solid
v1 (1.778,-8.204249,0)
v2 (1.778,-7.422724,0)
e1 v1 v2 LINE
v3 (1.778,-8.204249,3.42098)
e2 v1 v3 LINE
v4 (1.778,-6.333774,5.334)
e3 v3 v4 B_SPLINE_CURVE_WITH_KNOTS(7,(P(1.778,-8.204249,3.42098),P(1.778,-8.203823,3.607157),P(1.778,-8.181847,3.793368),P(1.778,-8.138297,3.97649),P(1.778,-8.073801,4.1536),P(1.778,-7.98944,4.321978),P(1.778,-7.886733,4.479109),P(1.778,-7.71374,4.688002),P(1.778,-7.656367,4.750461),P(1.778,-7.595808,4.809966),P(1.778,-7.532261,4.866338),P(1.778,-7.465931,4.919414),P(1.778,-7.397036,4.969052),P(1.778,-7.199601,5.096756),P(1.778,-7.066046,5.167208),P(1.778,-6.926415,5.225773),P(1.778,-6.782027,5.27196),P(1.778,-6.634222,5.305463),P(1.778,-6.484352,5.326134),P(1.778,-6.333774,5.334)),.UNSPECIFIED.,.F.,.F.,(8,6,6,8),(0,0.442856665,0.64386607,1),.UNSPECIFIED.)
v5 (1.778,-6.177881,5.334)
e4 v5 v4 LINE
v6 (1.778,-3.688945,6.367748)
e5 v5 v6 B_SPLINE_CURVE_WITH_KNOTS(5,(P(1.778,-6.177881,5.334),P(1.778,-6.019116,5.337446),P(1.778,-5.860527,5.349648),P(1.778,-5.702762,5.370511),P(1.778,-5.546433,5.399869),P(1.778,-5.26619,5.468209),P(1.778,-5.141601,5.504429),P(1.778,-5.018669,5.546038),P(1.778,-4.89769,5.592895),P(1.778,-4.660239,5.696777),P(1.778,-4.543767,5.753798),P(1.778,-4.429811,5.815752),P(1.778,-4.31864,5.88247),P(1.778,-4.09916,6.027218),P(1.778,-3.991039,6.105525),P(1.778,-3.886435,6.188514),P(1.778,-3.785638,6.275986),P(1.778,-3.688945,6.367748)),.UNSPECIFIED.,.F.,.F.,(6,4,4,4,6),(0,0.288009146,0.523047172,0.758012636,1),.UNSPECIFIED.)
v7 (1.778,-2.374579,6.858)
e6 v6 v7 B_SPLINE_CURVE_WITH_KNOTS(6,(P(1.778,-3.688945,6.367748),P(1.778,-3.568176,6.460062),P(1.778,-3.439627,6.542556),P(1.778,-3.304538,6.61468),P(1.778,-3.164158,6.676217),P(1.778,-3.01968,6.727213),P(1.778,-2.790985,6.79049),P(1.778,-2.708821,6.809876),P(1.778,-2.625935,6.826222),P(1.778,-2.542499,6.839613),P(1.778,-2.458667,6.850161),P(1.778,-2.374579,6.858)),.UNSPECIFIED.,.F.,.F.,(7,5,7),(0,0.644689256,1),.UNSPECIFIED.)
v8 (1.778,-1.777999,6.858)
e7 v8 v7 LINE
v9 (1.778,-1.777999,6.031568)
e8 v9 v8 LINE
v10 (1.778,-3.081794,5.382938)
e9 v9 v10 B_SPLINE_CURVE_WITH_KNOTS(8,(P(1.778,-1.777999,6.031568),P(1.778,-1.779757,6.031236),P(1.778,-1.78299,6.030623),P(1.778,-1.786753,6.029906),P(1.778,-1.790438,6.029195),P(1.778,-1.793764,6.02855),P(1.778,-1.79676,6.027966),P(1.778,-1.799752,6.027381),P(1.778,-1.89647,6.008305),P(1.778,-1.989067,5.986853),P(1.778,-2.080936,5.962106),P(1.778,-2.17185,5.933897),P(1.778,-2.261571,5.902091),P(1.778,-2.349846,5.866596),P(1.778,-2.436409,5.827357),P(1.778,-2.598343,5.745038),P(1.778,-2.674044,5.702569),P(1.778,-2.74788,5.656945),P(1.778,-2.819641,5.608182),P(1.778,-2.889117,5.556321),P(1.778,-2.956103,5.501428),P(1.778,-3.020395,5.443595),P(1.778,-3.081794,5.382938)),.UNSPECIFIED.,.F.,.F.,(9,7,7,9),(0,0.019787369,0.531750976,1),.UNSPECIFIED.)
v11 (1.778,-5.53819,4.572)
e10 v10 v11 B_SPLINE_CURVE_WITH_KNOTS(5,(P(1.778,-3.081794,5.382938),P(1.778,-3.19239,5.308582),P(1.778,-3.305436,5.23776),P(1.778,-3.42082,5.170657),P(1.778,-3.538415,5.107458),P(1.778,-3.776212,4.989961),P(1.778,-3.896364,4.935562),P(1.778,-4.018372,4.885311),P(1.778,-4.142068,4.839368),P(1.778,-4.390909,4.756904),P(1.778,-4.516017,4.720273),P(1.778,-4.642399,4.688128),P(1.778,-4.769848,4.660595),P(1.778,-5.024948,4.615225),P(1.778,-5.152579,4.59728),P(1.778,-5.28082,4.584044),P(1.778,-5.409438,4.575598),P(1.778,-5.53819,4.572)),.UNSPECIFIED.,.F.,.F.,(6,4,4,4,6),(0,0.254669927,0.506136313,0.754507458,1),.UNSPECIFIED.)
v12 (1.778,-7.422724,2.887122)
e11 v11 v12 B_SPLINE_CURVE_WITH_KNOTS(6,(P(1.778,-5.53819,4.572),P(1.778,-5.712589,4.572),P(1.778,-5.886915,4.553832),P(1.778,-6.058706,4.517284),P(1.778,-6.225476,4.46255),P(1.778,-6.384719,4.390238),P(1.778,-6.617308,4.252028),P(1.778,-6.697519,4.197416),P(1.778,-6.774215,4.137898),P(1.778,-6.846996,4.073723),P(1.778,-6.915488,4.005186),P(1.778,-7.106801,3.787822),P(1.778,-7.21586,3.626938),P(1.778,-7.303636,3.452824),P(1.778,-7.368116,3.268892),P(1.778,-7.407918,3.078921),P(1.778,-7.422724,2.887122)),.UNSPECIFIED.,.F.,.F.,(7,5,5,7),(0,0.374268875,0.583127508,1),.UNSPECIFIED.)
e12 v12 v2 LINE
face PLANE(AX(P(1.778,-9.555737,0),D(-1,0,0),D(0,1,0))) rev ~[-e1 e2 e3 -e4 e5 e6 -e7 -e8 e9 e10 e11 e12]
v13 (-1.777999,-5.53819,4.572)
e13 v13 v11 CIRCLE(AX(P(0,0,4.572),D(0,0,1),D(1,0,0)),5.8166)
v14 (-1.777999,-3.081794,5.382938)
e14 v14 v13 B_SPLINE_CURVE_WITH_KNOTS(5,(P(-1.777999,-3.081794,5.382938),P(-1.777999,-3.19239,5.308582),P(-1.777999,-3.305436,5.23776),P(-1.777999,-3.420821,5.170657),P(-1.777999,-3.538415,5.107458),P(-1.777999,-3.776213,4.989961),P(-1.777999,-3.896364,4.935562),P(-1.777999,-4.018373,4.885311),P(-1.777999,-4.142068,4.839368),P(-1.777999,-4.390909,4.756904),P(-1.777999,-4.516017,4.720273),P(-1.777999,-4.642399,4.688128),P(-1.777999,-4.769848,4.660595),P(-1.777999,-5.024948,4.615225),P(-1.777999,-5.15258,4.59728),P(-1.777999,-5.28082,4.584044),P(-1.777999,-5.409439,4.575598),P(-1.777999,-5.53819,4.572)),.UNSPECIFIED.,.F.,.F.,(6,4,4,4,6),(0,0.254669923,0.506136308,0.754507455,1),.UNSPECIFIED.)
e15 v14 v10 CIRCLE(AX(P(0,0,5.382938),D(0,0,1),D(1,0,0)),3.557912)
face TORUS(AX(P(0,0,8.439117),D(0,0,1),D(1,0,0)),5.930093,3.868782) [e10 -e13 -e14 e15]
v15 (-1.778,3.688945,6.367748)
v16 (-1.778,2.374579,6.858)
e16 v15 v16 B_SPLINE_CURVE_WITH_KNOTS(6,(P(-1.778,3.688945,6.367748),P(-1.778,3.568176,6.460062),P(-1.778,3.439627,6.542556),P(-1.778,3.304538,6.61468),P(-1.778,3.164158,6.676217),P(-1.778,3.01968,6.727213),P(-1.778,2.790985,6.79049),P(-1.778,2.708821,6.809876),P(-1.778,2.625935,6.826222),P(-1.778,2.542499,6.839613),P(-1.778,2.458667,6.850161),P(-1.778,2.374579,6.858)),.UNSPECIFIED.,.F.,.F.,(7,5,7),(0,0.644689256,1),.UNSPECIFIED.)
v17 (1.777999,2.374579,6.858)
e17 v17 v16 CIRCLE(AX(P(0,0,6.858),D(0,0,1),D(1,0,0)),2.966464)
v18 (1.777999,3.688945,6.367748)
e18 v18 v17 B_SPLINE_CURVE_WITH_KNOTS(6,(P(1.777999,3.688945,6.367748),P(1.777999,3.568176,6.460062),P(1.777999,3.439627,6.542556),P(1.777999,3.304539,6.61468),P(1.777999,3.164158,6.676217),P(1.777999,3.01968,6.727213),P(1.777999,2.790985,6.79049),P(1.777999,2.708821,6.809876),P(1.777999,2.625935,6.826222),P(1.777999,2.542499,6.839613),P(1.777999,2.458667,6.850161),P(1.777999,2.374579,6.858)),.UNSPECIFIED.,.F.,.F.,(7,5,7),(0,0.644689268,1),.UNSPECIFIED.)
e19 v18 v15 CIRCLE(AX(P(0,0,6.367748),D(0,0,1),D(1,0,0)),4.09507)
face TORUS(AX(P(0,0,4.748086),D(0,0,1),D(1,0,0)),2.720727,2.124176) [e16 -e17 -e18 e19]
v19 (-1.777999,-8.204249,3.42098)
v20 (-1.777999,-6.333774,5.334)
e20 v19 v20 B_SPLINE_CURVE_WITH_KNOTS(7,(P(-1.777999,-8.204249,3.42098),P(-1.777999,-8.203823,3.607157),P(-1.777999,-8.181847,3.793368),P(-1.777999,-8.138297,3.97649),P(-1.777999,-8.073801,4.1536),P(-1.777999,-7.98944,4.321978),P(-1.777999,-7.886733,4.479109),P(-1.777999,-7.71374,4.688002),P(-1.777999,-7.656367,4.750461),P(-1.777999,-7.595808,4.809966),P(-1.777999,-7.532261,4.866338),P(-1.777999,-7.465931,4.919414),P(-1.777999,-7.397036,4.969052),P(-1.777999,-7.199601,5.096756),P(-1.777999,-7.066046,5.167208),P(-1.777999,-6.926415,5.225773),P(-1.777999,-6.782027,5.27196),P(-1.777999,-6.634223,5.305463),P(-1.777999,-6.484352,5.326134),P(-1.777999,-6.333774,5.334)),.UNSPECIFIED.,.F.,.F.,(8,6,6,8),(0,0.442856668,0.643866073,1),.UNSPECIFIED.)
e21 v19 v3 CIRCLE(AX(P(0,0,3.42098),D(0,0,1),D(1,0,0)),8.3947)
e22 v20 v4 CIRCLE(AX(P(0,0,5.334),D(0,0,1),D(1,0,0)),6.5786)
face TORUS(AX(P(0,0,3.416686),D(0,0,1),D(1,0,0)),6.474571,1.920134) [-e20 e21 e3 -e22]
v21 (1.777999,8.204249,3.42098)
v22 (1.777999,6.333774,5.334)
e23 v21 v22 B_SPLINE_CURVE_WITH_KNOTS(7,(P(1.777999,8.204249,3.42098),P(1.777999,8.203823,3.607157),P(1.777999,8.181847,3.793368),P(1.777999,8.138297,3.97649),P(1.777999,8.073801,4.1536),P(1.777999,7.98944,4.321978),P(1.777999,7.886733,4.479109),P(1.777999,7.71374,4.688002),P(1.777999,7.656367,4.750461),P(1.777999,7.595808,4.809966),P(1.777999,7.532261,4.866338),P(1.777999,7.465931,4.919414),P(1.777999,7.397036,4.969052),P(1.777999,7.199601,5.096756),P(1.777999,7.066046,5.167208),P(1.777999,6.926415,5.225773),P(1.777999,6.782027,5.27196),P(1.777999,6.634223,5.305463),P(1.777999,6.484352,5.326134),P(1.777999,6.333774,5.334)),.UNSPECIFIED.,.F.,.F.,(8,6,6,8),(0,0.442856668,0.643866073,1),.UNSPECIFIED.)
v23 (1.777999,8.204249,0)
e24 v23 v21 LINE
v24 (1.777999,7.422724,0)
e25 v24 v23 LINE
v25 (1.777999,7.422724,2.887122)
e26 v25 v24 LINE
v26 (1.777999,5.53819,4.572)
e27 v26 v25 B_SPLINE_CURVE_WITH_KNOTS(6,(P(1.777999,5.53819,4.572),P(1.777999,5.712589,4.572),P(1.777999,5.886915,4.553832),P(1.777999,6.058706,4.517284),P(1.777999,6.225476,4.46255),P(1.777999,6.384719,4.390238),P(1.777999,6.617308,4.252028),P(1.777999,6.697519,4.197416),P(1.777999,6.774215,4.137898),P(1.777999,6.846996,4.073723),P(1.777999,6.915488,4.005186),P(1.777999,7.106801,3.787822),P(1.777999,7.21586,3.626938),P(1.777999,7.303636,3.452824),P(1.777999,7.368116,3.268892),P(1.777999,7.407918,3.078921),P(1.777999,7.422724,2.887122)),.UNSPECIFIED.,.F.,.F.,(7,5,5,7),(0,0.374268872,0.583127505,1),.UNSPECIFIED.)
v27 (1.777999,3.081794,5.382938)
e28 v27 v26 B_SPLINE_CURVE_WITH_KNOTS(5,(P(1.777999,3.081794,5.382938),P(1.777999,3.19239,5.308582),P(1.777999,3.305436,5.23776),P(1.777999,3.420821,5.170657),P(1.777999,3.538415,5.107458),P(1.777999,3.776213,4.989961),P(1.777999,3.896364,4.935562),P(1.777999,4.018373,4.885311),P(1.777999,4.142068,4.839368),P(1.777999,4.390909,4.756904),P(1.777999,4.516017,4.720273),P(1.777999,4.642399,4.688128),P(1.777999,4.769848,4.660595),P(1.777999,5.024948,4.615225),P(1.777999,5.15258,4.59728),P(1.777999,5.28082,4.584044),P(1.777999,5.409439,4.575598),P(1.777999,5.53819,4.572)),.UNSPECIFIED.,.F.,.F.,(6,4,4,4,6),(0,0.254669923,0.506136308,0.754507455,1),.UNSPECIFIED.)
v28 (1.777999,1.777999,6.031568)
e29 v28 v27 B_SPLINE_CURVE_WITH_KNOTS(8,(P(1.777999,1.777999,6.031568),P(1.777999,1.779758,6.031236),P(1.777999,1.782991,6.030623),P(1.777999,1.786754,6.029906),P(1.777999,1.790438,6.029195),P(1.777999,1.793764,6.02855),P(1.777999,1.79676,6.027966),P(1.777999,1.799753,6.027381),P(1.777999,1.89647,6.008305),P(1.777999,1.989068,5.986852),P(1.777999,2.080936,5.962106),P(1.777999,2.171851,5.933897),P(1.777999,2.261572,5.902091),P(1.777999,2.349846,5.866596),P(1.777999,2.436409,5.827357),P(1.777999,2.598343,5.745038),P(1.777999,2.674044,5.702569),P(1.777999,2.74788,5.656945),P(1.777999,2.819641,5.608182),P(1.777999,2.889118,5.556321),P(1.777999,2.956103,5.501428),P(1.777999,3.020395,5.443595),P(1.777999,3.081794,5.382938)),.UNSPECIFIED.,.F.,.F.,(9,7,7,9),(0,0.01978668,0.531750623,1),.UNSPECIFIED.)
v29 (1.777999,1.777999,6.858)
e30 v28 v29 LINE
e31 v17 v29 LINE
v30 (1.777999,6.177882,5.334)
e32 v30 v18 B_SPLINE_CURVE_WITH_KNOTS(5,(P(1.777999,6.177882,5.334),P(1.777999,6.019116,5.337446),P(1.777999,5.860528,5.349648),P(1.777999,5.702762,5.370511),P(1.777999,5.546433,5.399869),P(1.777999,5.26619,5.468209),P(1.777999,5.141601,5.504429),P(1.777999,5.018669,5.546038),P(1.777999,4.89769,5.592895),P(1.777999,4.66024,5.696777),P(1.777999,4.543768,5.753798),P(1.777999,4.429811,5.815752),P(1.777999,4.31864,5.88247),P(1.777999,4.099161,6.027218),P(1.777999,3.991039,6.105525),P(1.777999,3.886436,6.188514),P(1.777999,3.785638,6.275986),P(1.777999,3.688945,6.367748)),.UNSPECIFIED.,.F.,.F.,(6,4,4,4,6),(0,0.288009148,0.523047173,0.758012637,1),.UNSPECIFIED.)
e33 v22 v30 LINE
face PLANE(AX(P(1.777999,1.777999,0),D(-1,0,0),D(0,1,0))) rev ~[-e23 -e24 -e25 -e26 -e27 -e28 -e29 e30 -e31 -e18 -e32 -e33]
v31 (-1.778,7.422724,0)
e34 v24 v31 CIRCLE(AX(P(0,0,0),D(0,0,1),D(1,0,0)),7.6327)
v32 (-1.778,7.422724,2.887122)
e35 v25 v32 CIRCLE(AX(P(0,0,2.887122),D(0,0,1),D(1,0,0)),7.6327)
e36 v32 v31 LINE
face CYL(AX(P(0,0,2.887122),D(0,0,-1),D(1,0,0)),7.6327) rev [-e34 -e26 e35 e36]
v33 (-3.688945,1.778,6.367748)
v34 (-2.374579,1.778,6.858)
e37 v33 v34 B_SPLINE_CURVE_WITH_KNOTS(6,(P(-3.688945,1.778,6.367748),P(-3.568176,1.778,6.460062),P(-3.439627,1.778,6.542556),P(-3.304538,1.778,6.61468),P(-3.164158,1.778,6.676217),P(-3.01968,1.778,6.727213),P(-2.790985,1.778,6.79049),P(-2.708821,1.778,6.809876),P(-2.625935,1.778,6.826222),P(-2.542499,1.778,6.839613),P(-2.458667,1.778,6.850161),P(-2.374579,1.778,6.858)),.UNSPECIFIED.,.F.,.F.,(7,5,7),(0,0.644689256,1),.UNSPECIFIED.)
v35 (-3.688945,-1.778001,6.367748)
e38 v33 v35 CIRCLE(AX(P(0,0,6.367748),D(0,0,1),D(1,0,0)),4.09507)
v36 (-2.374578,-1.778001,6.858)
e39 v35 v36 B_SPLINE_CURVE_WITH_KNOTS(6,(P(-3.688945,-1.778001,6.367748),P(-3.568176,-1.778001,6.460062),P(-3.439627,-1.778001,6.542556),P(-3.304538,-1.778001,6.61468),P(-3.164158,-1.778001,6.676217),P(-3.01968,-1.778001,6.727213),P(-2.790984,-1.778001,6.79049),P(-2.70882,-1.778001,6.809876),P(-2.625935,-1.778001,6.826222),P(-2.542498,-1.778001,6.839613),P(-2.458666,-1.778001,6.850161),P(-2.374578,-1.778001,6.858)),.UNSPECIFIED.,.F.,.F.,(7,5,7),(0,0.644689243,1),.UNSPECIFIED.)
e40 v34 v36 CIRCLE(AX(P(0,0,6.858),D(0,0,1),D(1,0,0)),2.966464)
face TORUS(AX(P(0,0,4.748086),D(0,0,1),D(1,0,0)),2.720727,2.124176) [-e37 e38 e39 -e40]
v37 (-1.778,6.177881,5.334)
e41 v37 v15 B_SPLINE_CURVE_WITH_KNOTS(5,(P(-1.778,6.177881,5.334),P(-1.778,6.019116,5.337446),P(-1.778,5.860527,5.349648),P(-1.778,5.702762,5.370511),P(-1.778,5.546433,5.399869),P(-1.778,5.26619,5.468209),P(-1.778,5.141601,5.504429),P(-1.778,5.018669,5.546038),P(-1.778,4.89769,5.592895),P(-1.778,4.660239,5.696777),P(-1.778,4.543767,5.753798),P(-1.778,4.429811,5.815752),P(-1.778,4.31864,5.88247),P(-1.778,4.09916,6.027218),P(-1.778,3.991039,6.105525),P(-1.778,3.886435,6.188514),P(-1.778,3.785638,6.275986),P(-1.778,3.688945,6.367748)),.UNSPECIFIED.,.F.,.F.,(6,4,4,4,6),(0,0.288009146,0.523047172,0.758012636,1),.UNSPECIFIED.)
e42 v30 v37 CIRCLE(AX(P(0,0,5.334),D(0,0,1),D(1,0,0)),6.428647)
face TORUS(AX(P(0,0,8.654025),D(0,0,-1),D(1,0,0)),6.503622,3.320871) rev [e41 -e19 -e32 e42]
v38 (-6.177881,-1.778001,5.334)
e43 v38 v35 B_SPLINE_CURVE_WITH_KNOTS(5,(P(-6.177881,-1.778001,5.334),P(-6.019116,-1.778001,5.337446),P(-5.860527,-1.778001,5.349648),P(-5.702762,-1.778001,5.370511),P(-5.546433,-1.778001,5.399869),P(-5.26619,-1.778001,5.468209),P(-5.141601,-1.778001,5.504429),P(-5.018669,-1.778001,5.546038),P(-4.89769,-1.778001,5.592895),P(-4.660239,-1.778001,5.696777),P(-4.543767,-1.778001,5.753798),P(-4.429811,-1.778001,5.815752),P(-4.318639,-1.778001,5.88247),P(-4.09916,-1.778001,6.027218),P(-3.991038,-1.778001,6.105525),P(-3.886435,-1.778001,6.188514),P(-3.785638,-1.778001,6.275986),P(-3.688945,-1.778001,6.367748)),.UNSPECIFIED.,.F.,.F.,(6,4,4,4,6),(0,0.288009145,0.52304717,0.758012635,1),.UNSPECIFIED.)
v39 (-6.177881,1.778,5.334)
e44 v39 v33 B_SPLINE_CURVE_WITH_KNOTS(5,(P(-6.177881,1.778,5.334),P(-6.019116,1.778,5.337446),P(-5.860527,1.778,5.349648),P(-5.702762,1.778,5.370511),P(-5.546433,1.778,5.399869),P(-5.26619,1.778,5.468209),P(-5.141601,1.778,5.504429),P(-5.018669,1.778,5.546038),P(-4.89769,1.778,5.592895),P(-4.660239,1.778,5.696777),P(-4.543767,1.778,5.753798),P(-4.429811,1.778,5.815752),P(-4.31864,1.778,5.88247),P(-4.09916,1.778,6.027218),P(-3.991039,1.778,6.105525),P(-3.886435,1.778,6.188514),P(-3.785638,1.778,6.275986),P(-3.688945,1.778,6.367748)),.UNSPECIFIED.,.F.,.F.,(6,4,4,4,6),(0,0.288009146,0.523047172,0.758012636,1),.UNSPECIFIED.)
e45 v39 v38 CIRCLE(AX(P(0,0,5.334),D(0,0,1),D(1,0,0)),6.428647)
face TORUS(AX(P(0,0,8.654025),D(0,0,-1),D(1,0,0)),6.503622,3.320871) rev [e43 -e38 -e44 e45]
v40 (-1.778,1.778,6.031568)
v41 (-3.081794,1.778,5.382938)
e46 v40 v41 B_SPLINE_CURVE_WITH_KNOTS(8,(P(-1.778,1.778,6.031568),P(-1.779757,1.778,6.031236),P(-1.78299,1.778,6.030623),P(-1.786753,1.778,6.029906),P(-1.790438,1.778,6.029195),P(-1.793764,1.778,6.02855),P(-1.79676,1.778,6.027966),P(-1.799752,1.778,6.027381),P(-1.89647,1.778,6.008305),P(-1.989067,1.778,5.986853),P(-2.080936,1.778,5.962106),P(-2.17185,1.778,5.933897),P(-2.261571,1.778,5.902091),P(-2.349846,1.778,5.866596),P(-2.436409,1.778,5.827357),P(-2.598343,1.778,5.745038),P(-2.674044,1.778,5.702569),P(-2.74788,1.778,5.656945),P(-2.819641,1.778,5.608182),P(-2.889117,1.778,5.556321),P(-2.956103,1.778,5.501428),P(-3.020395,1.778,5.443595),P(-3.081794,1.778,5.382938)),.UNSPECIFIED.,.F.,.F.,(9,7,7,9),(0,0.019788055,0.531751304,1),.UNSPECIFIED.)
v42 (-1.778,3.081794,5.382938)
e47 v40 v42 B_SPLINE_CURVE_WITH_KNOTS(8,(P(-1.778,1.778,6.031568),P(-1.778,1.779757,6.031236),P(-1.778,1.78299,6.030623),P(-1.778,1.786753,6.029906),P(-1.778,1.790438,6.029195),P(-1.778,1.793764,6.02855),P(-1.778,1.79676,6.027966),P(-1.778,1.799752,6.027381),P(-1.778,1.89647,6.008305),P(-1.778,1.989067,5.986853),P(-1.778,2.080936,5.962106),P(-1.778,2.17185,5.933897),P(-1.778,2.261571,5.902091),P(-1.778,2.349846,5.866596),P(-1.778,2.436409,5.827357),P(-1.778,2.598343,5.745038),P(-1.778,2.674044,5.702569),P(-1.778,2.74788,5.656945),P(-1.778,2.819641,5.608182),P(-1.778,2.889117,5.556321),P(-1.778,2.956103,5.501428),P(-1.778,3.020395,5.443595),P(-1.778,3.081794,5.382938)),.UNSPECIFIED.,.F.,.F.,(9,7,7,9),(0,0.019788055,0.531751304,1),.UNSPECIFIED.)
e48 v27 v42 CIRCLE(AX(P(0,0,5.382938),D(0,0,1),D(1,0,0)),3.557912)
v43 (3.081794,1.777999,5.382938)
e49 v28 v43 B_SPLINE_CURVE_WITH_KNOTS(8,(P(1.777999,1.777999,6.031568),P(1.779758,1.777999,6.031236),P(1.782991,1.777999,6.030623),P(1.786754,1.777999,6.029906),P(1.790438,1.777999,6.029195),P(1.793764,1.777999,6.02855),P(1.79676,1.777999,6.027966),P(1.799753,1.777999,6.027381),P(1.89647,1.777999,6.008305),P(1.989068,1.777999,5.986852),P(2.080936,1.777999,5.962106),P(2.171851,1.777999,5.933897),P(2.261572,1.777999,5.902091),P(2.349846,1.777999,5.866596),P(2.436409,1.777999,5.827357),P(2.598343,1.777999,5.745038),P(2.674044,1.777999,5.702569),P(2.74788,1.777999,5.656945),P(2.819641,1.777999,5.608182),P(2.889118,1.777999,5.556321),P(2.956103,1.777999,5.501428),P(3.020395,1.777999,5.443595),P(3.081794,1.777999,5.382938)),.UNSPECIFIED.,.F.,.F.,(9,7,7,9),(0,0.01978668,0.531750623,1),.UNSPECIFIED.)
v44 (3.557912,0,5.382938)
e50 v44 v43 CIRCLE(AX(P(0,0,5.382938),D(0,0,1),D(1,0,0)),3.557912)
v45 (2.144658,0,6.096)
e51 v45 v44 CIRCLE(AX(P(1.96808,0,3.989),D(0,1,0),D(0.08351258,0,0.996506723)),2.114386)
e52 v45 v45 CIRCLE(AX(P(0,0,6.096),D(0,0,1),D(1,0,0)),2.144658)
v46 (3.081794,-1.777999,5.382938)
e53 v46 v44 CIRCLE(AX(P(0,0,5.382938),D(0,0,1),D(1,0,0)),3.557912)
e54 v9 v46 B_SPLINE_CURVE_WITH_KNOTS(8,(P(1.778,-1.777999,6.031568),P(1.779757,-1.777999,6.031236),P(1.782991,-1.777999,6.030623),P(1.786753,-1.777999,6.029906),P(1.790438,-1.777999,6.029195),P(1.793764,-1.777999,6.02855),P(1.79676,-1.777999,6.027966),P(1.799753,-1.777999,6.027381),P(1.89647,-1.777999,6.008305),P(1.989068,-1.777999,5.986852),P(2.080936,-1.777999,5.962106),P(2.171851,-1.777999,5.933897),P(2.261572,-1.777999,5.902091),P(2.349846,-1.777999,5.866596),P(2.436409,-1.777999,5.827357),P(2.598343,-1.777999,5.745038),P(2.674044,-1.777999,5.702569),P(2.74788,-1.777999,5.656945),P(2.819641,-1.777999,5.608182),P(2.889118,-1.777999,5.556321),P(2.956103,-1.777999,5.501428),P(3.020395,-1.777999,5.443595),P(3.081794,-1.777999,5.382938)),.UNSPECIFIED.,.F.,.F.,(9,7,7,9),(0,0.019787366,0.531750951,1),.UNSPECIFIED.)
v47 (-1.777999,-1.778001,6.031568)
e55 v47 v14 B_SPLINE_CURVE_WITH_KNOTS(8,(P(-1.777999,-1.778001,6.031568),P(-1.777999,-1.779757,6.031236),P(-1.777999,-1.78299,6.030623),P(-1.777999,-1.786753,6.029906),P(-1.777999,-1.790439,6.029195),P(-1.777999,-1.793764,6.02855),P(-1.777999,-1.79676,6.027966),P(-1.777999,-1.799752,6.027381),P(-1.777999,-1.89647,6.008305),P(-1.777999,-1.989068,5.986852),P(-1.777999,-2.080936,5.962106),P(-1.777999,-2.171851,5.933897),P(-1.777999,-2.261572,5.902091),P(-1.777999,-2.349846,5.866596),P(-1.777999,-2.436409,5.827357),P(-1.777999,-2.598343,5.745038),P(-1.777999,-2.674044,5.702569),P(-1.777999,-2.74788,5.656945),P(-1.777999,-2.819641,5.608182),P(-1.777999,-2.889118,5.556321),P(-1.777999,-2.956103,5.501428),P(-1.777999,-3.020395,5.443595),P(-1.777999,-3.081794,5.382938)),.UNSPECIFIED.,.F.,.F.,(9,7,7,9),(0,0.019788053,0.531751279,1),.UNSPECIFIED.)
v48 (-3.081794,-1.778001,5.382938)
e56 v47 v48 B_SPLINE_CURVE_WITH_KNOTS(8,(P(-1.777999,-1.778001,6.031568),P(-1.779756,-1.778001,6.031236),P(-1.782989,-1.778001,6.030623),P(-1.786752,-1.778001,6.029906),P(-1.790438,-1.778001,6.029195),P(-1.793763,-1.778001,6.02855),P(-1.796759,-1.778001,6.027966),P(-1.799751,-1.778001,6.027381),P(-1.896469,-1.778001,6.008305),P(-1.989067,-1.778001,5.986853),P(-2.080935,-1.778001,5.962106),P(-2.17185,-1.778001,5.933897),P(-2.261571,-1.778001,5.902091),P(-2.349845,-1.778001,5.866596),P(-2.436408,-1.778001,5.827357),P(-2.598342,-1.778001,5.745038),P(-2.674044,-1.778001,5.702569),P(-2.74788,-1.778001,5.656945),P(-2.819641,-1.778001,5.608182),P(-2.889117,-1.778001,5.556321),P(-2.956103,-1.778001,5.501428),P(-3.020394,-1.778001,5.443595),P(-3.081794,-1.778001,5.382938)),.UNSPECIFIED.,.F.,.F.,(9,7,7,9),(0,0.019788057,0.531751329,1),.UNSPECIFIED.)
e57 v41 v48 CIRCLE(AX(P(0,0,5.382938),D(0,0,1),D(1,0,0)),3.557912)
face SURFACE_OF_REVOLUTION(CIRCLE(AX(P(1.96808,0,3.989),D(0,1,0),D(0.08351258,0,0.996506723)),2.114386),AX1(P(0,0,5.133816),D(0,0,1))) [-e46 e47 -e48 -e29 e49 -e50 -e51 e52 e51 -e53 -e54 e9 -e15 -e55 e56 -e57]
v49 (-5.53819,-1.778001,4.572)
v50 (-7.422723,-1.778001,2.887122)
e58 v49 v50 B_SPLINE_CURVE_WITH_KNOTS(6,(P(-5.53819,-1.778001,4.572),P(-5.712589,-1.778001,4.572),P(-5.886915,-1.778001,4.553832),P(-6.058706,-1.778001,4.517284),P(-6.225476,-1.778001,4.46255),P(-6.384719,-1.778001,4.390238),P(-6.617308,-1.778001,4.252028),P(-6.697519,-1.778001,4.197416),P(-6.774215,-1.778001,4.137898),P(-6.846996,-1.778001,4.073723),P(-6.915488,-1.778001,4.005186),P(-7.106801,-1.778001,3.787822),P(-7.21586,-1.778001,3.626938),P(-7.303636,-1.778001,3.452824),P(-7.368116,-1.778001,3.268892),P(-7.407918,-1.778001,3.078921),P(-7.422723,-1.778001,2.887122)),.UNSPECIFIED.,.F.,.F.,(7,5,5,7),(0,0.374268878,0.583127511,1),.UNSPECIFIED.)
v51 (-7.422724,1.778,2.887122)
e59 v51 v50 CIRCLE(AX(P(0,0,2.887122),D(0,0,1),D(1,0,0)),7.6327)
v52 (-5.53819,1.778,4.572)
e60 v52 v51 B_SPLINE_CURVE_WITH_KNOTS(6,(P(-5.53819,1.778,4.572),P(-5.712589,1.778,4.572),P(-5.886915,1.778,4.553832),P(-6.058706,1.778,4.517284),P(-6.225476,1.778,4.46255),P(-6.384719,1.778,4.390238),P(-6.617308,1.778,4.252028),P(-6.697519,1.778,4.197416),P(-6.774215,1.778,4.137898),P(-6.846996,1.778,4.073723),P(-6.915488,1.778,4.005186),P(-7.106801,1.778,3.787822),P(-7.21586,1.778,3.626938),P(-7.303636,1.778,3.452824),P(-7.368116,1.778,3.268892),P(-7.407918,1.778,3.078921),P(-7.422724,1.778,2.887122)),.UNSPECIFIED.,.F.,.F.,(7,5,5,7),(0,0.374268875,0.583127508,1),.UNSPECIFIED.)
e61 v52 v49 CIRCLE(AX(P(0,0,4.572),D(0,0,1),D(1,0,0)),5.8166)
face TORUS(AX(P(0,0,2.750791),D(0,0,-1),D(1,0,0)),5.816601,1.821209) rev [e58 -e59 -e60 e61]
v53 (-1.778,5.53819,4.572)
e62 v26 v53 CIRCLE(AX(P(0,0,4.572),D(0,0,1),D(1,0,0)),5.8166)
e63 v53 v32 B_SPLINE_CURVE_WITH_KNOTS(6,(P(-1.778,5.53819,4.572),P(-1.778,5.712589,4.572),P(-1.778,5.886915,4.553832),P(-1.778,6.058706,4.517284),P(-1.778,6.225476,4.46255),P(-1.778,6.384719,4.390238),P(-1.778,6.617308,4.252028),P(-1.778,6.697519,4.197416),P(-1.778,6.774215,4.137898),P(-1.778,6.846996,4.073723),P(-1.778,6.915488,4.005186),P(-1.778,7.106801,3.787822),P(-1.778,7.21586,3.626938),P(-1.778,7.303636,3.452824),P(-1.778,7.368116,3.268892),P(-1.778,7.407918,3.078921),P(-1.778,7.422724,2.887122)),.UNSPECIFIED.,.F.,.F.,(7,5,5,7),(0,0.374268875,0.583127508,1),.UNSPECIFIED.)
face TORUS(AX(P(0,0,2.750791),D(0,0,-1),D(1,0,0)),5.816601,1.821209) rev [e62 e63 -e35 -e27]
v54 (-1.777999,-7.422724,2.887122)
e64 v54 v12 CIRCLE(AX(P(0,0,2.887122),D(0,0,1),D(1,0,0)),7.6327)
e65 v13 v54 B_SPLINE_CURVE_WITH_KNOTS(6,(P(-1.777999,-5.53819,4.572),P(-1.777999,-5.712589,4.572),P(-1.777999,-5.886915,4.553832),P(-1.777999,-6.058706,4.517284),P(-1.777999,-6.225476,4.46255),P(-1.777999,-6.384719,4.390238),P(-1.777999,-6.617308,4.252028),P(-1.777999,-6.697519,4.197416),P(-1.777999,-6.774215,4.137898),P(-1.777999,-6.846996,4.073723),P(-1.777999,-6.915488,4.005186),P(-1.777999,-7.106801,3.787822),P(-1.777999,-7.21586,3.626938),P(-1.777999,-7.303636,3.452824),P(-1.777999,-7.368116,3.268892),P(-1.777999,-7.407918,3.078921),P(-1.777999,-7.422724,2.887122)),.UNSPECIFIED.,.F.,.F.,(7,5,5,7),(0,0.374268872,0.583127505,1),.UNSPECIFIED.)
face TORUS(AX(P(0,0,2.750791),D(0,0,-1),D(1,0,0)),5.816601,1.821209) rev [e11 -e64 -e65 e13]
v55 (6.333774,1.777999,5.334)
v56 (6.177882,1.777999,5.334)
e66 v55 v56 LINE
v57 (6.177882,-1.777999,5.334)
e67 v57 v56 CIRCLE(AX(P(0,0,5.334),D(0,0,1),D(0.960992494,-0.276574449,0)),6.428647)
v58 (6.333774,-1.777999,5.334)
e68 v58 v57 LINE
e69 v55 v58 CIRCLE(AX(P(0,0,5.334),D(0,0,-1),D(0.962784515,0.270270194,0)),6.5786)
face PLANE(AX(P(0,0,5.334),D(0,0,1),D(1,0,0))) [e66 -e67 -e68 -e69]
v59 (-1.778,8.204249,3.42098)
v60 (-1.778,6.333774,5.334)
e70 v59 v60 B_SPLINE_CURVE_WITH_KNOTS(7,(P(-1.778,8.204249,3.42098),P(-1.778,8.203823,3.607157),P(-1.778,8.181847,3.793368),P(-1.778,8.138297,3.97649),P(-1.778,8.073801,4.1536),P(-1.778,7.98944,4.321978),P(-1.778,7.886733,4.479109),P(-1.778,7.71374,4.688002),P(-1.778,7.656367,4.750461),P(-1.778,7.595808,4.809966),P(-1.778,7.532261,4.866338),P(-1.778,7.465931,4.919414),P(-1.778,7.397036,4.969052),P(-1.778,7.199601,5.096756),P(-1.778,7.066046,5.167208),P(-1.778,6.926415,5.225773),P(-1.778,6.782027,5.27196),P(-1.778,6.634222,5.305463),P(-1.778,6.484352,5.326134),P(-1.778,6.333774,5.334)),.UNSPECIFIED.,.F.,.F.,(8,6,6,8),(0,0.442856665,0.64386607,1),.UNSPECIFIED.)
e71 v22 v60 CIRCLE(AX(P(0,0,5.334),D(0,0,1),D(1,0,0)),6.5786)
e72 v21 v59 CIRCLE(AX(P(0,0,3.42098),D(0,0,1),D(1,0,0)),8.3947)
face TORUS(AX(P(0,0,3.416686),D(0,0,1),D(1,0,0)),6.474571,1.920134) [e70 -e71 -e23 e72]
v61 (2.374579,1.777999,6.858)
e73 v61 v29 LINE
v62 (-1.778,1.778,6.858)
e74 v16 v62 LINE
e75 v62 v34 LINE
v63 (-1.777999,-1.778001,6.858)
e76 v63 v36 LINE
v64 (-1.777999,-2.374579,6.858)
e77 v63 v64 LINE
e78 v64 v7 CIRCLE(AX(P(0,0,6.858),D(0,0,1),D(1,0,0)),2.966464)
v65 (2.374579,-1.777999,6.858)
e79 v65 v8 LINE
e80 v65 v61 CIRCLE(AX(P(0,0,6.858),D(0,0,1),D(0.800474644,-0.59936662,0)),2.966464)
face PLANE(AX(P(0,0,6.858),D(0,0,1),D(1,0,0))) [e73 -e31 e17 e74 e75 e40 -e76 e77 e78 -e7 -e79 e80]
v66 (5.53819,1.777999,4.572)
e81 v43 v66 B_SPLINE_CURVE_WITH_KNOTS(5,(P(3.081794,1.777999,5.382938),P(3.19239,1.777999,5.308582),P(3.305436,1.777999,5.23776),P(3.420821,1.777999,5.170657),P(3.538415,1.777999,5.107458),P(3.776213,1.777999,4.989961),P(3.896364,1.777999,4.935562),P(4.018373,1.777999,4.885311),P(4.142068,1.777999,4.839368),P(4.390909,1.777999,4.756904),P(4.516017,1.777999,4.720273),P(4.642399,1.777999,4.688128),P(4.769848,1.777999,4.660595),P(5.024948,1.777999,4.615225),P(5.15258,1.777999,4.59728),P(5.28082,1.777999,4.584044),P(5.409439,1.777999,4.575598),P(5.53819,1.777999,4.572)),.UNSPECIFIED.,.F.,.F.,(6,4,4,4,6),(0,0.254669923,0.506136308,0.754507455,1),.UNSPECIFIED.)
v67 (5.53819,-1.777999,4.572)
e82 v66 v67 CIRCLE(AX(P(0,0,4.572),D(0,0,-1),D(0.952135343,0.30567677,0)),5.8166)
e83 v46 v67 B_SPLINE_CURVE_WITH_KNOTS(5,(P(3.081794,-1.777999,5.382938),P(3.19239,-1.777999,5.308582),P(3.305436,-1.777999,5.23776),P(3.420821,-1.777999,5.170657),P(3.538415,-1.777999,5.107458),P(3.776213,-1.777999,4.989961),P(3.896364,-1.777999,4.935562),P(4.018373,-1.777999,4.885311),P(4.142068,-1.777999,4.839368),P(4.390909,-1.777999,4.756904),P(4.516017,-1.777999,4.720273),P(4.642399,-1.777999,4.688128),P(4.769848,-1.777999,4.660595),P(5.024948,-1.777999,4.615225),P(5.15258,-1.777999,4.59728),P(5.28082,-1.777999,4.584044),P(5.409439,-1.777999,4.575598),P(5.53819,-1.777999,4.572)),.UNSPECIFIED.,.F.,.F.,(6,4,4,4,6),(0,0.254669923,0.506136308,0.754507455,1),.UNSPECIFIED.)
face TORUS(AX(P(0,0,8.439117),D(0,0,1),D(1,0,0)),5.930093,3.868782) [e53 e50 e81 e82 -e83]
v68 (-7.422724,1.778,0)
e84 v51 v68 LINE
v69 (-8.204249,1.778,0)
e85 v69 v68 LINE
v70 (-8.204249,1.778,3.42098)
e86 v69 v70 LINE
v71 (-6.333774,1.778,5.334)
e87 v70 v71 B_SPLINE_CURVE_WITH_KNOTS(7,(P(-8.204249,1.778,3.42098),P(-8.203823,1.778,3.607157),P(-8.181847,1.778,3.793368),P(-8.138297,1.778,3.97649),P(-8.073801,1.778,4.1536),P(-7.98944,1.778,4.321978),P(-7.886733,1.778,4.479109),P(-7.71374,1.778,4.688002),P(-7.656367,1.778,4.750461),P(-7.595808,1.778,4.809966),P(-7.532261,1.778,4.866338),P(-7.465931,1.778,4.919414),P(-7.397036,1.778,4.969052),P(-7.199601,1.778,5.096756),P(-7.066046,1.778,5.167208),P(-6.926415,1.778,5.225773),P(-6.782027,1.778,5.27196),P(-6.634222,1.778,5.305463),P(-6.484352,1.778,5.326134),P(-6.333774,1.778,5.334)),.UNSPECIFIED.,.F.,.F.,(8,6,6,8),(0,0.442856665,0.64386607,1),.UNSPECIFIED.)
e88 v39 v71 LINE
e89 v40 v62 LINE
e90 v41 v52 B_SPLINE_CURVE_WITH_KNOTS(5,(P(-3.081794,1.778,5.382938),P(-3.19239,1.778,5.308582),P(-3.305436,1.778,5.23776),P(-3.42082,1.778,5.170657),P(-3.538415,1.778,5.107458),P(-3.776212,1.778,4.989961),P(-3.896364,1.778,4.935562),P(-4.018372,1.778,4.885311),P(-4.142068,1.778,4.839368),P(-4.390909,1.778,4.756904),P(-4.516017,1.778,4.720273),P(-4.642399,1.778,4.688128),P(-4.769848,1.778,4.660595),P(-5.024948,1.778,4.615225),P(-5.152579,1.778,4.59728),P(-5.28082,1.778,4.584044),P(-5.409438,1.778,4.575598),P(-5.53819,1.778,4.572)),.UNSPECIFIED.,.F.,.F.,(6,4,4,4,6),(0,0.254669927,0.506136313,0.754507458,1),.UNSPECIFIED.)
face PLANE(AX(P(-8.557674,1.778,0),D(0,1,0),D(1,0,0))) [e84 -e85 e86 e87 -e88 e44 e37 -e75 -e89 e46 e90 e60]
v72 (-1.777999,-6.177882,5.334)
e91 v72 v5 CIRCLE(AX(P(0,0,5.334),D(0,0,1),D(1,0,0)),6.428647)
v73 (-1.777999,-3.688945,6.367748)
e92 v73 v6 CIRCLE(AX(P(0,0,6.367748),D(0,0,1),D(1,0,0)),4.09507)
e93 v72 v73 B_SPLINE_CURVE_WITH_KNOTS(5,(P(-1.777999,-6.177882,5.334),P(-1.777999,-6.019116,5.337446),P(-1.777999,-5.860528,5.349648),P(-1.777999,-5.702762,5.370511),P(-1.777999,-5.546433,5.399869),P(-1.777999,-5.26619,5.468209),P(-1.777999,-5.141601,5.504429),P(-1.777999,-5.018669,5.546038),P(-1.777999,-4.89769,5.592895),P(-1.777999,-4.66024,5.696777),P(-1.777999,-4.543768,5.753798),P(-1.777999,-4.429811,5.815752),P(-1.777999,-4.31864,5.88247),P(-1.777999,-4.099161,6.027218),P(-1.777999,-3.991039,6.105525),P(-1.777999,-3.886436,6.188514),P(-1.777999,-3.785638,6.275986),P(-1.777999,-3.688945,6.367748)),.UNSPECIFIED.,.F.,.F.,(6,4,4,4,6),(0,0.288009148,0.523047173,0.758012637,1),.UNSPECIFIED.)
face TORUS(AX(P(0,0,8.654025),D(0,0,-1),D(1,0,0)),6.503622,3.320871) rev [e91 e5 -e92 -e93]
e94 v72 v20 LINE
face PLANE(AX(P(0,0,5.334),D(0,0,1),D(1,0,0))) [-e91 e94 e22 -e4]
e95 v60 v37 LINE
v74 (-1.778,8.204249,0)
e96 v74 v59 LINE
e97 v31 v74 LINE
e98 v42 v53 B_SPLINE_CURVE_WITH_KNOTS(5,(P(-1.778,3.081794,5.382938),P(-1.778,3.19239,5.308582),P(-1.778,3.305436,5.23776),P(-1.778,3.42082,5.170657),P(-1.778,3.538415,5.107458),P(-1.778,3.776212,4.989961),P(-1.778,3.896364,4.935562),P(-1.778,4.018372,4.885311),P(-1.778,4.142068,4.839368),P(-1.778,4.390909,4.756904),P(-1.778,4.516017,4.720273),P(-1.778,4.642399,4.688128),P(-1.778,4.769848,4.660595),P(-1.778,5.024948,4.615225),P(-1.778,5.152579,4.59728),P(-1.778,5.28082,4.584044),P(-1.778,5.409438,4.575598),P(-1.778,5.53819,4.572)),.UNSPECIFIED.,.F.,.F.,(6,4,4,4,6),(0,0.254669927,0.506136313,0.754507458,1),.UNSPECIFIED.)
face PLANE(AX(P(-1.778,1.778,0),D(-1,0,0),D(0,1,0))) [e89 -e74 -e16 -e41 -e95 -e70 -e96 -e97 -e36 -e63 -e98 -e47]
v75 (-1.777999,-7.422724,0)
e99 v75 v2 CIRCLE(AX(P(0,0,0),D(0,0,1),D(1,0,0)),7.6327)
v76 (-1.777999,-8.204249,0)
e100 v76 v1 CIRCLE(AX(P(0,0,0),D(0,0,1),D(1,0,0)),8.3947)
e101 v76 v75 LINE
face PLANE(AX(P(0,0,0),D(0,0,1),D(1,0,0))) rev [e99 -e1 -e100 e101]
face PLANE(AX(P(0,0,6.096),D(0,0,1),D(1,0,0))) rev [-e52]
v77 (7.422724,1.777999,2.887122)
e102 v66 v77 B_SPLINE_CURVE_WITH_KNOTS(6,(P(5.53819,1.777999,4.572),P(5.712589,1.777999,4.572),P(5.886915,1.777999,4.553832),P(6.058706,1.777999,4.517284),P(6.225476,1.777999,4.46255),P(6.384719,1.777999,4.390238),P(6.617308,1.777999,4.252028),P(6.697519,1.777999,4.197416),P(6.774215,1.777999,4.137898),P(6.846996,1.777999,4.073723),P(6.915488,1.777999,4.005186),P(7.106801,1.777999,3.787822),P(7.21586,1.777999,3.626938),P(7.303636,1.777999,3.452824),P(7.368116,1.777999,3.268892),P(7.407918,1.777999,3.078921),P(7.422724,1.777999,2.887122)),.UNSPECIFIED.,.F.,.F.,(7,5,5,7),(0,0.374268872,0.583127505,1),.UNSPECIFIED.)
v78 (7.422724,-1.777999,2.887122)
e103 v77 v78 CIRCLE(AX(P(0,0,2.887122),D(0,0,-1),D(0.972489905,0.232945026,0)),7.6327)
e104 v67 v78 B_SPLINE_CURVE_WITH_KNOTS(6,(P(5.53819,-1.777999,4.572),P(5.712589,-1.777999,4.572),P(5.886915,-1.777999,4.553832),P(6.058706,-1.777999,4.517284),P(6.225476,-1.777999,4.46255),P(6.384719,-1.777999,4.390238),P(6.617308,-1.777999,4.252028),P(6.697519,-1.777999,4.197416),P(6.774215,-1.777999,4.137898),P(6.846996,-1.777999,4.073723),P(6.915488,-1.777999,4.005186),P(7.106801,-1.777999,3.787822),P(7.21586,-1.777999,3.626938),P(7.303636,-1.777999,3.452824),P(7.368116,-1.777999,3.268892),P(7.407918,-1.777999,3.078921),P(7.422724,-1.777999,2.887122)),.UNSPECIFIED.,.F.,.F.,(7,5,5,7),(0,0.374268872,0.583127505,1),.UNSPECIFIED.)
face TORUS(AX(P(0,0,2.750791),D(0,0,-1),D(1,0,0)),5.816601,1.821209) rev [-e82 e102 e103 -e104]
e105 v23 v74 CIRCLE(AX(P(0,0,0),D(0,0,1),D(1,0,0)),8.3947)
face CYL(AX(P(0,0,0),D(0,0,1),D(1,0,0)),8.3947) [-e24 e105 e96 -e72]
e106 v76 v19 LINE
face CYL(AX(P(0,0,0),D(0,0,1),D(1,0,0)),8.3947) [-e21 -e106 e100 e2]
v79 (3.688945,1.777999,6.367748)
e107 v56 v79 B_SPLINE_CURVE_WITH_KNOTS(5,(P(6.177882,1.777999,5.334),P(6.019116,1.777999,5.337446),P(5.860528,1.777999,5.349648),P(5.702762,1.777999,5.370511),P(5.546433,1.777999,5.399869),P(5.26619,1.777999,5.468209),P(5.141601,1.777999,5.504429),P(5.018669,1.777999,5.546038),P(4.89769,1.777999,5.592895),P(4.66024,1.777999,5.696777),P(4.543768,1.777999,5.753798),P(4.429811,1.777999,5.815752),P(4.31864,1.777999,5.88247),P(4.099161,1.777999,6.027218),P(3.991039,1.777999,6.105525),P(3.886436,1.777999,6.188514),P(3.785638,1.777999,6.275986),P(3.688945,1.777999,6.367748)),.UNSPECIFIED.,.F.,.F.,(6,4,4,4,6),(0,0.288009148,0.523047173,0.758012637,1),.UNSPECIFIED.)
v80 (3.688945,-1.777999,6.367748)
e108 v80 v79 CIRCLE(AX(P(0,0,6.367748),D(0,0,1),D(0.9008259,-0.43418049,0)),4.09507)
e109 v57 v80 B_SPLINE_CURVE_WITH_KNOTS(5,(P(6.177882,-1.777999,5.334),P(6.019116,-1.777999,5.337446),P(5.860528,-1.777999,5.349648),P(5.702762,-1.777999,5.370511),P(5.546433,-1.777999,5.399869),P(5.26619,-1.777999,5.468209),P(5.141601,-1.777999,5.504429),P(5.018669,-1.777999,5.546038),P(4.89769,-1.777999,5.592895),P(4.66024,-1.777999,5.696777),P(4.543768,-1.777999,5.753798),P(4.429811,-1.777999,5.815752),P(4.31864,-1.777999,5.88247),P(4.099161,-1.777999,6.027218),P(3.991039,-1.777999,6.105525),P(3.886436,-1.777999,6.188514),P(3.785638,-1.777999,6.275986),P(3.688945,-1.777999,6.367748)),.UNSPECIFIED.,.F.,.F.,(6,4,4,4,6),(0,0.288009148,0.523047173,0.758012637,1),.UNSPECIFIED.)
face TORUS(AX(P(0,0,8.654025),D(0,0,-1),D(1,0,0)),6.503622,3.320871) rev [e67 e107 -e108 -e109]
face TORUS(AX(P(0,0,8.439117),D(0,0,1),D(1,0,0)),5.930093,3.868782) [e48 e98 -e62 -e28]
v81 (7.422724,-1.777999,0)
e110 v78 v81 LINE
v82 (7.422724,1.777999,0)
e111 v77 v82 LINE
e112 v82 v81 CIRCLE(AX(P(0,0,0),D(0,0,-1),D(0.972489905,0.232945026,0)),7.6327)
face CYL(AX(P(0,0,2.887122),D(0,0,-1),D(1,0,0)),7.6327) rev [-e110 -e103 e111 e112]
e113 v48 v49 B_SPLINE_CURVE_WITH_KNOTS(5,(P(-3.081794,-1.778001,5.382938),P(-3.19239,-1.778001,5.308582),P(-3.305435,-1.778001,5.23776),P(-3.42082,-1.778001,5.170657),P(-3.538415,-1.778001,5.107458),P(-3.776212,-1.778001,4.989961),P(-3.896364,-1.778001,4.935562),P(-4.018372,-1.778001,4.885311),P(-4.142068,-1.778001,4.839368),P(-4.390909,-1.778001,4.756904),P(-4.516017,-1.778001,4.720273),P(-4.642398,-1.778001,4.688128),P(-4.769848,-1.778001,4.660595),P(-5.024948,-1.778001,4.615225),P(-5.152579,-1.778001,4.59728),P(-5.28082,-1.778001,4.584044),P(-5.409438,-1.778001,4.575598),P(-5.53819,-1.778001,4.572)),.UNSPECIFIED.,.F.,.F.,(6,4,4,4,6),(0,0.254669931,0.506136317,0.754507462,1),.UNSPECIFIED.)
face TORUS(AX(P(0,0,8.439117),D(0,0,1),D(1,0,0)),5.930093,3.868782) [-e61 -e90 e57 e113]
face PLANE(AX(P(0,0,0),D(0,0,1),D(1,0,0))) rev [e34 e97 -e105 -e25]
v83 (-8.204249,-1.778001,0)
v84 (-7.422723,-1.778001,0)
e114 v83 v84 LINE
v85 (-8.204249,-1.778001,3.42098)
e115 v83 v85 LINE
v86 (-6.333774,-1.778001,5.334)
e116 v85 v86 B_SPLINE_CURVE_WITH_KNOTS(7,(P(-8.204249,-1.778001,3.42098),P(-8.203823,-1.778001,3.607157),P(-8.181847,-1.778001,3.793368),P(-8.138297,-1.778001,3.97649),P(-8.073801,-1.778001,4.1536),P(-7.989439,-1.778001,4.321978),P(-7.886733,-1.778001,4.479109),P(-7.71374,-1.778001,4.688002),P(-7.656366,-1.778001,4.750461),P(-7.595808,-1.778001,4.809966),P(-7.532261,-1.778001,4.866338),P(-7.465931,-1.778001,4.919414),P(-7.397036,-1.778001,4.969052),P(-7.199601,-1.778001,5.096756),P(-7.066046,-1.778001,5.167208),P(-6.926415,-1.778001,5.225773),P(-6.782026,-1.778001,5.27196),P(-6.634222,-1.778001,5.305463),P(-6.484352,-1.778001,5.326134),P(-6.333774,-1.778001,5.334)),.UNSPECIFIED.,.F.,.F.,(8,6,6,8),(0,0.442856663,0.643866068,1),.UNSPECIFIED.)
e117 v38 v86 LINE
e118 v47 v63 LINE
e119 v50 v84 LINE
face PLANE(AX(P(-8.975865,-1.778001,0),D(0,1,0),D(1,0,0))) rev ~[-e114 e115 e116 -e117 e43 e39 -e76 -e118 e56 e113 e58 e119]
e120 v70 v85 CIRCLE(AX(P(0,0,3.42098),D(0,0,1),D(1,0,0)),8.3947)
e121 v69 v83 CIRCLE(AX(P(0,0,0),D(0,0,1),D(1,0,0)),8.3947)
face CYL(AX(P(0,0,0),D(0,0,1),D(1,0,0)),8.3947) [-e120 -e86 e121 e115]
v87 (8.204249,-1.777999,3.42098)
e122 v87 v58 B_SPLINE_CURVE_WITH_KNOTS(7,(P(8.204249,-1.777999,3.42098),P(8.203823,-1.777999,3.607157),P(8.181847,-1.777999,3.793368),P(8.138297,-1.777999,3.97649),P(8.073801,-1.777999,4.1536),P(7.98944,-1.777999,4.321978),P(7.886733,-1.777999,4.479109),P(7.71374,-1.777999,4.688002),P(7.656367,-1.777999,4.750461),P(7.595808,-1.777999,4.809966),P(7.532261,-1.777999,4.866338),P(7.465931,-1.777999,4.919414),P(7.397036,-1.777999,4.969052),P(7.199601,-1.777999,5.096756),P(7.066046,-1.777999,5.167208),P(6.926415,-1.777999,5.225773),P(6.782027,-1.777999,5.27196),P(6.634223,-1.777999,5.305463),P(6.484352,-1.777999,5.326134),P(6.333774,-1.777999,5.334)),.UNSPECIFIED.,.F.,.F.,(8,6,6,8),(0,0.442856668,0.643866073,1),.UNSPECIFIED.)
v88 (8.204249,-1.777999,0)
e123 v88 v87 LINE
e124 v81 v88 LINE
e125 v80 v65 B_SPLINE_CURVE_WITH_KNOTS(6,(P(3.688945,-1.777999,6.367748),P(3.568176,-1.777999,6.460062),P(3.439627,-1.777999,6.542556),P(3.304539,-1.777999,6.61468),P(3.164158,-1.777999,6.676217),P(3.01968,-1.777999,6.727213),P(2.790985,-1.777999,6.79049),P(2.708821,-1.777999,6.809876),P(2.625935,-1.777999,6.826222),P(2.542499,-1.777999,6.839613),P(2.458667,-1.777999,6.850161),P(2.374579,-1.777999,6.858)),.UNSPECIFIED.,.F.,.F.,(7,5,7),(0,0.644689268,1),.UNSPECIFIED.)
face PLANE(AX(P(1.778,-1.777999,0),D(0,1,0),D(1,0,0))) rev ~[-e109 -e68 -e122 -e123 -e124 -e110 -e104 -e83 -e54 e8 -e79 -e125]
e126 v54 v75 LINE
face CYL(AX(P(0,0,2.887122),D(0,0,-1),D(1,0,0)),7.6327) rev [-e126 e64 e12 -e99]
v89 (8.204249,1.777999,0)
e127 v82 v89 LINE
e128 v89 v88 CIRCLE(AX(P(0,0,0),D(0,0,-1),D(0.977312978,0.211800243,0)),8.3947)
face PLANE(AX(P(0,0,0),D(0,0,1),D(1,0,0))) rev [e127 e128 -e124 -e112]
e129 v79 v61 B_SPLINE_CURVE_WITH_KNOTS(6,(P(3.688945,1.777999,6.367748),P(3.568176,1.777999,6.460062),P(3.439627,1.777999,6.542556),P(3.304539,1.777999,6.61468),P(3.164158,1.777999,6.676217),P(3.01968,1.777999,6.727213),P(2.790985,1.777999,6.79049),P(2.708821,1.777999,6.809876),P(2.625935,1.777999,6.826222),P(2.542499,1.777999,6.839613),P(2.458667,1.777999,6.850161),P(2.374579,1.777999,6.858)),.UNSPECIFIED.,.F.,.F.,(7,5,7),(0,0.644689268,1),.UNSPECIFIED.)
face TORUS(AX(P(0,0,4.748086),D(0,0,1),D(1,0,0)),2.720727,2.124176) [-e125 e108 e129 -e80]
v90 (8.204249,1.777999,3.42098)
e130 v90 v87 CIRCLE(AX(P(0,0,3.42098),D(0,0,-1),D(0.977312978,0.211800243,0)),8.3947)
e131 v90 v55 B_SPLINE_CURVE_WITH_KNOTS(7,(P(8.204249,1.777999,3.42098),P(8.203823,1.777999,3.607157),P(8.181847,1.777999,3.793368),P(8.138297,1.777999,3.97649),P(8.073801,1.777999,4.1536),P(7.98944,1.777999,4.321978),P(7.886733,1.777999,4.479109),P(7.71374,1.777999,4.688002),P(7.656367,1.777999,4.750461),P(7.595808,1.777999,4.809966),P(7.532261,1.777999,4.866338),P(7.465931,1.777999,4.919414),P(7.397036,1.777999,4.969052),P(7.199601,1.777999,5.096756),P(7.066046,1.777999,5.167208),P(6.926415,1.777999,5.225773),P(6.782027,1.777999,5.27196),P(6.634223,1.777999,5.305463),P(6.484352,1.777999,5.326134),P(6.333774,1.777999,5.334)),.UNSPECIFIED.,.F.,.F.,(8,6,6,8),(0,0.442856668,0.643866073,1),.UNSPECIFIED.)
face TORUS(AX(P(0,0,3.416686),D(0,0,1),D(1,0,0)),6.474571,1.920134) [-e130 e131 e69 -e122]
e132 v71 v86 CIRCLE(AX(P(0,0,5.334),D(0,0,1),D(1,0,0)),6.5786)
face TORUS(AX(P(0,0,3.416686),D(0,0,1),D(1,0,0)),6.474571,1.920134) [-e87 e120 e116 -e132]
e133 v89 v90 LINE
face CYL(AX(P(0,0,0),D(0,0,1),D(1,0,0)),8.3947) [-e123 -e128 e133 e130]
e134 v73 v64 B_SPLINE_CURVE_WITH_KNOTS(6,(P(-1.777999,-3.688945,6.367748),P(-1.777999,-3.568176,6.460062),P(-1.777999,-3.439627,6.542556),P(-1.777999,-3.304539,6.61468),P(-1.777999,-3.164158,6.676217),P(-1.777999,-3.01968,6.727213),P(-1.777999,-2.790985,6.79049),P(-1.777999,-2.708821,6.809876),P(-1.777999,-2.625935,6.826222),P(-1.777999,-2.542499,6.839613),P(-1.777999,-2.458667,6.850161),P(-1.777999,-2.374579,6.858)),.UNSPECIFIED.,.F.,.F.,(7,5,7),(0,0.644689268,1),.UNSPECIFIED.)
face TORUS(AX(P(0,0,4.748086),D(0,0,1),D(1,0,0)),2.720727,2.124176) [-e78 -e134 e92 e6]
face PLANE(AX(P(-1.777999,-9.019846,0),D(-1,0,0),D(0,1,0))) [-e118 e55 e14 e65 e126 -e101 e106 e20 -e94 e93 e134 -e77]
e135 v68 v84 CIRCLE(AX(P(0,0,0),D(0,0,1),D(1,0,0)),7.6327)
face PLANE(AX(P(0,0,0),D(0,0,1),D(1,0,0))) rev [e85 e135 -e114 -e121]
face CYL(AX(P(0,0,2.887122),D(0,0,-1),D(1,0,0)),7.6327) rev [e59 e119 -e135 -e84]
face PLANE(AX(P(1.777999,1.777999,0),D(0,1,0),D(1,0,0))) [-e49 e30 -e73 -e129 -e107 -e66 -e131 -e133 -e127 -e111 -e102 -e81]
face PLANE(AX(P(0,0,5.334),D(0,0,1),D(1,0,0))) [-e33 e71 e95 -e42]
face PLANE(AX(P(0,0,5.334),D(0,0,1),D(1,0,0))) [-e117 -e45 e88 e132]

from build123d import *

# Parameters (mm, degrees)
F2_W     = 7.197865
F2_H     = 7.241845
F2_W_2   = 7.277308
F2_H_2   = 7.777737
F2_W_3   = 7.559205
F2_H_3   = 7.282023
F2_W_4   = 6.779674
F2_H_4   = 6.794866
F3_DEPTH = 25.4


with BuildPart() as f1:
    # F0 (on Front) → F1 (revolve)
    with BuildSketch(Plane.XZ):
        with BuildLine():
            Line((2.966464, 6.858), (0, 6.858))
            Line((0, 6.858), (0, 6.096))
            Line((0, 6.096), (2.144658, 6.096))
            ThreePointArc((2.144658, 6.096), (2.920532, 5.876714), (3.557912, 5.382938))
            ThreePointArc((3.557912, 5.382938), (4.622787, 4.797905), (5.8166, 4.572))
            ThreePointArc((5.8166, 4.572), (7.055252, 4.085911), (7.6327, 2.887122))
            Line((7.6327, 2.887122), (7.6327, 0))
            Line((7.6327, 0), (8.3947, 0))
            Line((8.3947, 0), (8.3947, 3.42098))
            ThreePointArc((8.3947, 3.42098), (7.867128, 4.738692), (6.5786, 5.334))
            Line((6.5786, 5.334), (6.428647, 5.334))
            ThreePointArc((6.428647, 5.334), (5.158581, 5.617736), (4.09507, 6.367748))
            ThreePointArc((4.09507, 6.367748), (3.567043, 6.696386), (2.966464, 6.858))
        make_face()
    revolve(axis=Axis((0, 0, 5.133816), (0, 0, 1)))

    # F2 (on Top) → F3 (cut)
    with BuildSketch(Plane.XY):
        with Locations((-5.376932, -5.398923)):
            Rectangle(F2_W, F2_H)
        with Locations((5.416654, -5.666868)):
            Rectangle(F2_W_2, F2_H_2)
        with Locations((5.557602, 5.419011)):
            Rectangle(F2_W_3, F2_H_3)
        with Locations((-5.167837, 5.175433)):
            Rectangle(F2_W_4, F2_H_4)
    extrude(amount=F3_DEPTH, mode=Mode.SUBTRACT)


solid = f1.part
